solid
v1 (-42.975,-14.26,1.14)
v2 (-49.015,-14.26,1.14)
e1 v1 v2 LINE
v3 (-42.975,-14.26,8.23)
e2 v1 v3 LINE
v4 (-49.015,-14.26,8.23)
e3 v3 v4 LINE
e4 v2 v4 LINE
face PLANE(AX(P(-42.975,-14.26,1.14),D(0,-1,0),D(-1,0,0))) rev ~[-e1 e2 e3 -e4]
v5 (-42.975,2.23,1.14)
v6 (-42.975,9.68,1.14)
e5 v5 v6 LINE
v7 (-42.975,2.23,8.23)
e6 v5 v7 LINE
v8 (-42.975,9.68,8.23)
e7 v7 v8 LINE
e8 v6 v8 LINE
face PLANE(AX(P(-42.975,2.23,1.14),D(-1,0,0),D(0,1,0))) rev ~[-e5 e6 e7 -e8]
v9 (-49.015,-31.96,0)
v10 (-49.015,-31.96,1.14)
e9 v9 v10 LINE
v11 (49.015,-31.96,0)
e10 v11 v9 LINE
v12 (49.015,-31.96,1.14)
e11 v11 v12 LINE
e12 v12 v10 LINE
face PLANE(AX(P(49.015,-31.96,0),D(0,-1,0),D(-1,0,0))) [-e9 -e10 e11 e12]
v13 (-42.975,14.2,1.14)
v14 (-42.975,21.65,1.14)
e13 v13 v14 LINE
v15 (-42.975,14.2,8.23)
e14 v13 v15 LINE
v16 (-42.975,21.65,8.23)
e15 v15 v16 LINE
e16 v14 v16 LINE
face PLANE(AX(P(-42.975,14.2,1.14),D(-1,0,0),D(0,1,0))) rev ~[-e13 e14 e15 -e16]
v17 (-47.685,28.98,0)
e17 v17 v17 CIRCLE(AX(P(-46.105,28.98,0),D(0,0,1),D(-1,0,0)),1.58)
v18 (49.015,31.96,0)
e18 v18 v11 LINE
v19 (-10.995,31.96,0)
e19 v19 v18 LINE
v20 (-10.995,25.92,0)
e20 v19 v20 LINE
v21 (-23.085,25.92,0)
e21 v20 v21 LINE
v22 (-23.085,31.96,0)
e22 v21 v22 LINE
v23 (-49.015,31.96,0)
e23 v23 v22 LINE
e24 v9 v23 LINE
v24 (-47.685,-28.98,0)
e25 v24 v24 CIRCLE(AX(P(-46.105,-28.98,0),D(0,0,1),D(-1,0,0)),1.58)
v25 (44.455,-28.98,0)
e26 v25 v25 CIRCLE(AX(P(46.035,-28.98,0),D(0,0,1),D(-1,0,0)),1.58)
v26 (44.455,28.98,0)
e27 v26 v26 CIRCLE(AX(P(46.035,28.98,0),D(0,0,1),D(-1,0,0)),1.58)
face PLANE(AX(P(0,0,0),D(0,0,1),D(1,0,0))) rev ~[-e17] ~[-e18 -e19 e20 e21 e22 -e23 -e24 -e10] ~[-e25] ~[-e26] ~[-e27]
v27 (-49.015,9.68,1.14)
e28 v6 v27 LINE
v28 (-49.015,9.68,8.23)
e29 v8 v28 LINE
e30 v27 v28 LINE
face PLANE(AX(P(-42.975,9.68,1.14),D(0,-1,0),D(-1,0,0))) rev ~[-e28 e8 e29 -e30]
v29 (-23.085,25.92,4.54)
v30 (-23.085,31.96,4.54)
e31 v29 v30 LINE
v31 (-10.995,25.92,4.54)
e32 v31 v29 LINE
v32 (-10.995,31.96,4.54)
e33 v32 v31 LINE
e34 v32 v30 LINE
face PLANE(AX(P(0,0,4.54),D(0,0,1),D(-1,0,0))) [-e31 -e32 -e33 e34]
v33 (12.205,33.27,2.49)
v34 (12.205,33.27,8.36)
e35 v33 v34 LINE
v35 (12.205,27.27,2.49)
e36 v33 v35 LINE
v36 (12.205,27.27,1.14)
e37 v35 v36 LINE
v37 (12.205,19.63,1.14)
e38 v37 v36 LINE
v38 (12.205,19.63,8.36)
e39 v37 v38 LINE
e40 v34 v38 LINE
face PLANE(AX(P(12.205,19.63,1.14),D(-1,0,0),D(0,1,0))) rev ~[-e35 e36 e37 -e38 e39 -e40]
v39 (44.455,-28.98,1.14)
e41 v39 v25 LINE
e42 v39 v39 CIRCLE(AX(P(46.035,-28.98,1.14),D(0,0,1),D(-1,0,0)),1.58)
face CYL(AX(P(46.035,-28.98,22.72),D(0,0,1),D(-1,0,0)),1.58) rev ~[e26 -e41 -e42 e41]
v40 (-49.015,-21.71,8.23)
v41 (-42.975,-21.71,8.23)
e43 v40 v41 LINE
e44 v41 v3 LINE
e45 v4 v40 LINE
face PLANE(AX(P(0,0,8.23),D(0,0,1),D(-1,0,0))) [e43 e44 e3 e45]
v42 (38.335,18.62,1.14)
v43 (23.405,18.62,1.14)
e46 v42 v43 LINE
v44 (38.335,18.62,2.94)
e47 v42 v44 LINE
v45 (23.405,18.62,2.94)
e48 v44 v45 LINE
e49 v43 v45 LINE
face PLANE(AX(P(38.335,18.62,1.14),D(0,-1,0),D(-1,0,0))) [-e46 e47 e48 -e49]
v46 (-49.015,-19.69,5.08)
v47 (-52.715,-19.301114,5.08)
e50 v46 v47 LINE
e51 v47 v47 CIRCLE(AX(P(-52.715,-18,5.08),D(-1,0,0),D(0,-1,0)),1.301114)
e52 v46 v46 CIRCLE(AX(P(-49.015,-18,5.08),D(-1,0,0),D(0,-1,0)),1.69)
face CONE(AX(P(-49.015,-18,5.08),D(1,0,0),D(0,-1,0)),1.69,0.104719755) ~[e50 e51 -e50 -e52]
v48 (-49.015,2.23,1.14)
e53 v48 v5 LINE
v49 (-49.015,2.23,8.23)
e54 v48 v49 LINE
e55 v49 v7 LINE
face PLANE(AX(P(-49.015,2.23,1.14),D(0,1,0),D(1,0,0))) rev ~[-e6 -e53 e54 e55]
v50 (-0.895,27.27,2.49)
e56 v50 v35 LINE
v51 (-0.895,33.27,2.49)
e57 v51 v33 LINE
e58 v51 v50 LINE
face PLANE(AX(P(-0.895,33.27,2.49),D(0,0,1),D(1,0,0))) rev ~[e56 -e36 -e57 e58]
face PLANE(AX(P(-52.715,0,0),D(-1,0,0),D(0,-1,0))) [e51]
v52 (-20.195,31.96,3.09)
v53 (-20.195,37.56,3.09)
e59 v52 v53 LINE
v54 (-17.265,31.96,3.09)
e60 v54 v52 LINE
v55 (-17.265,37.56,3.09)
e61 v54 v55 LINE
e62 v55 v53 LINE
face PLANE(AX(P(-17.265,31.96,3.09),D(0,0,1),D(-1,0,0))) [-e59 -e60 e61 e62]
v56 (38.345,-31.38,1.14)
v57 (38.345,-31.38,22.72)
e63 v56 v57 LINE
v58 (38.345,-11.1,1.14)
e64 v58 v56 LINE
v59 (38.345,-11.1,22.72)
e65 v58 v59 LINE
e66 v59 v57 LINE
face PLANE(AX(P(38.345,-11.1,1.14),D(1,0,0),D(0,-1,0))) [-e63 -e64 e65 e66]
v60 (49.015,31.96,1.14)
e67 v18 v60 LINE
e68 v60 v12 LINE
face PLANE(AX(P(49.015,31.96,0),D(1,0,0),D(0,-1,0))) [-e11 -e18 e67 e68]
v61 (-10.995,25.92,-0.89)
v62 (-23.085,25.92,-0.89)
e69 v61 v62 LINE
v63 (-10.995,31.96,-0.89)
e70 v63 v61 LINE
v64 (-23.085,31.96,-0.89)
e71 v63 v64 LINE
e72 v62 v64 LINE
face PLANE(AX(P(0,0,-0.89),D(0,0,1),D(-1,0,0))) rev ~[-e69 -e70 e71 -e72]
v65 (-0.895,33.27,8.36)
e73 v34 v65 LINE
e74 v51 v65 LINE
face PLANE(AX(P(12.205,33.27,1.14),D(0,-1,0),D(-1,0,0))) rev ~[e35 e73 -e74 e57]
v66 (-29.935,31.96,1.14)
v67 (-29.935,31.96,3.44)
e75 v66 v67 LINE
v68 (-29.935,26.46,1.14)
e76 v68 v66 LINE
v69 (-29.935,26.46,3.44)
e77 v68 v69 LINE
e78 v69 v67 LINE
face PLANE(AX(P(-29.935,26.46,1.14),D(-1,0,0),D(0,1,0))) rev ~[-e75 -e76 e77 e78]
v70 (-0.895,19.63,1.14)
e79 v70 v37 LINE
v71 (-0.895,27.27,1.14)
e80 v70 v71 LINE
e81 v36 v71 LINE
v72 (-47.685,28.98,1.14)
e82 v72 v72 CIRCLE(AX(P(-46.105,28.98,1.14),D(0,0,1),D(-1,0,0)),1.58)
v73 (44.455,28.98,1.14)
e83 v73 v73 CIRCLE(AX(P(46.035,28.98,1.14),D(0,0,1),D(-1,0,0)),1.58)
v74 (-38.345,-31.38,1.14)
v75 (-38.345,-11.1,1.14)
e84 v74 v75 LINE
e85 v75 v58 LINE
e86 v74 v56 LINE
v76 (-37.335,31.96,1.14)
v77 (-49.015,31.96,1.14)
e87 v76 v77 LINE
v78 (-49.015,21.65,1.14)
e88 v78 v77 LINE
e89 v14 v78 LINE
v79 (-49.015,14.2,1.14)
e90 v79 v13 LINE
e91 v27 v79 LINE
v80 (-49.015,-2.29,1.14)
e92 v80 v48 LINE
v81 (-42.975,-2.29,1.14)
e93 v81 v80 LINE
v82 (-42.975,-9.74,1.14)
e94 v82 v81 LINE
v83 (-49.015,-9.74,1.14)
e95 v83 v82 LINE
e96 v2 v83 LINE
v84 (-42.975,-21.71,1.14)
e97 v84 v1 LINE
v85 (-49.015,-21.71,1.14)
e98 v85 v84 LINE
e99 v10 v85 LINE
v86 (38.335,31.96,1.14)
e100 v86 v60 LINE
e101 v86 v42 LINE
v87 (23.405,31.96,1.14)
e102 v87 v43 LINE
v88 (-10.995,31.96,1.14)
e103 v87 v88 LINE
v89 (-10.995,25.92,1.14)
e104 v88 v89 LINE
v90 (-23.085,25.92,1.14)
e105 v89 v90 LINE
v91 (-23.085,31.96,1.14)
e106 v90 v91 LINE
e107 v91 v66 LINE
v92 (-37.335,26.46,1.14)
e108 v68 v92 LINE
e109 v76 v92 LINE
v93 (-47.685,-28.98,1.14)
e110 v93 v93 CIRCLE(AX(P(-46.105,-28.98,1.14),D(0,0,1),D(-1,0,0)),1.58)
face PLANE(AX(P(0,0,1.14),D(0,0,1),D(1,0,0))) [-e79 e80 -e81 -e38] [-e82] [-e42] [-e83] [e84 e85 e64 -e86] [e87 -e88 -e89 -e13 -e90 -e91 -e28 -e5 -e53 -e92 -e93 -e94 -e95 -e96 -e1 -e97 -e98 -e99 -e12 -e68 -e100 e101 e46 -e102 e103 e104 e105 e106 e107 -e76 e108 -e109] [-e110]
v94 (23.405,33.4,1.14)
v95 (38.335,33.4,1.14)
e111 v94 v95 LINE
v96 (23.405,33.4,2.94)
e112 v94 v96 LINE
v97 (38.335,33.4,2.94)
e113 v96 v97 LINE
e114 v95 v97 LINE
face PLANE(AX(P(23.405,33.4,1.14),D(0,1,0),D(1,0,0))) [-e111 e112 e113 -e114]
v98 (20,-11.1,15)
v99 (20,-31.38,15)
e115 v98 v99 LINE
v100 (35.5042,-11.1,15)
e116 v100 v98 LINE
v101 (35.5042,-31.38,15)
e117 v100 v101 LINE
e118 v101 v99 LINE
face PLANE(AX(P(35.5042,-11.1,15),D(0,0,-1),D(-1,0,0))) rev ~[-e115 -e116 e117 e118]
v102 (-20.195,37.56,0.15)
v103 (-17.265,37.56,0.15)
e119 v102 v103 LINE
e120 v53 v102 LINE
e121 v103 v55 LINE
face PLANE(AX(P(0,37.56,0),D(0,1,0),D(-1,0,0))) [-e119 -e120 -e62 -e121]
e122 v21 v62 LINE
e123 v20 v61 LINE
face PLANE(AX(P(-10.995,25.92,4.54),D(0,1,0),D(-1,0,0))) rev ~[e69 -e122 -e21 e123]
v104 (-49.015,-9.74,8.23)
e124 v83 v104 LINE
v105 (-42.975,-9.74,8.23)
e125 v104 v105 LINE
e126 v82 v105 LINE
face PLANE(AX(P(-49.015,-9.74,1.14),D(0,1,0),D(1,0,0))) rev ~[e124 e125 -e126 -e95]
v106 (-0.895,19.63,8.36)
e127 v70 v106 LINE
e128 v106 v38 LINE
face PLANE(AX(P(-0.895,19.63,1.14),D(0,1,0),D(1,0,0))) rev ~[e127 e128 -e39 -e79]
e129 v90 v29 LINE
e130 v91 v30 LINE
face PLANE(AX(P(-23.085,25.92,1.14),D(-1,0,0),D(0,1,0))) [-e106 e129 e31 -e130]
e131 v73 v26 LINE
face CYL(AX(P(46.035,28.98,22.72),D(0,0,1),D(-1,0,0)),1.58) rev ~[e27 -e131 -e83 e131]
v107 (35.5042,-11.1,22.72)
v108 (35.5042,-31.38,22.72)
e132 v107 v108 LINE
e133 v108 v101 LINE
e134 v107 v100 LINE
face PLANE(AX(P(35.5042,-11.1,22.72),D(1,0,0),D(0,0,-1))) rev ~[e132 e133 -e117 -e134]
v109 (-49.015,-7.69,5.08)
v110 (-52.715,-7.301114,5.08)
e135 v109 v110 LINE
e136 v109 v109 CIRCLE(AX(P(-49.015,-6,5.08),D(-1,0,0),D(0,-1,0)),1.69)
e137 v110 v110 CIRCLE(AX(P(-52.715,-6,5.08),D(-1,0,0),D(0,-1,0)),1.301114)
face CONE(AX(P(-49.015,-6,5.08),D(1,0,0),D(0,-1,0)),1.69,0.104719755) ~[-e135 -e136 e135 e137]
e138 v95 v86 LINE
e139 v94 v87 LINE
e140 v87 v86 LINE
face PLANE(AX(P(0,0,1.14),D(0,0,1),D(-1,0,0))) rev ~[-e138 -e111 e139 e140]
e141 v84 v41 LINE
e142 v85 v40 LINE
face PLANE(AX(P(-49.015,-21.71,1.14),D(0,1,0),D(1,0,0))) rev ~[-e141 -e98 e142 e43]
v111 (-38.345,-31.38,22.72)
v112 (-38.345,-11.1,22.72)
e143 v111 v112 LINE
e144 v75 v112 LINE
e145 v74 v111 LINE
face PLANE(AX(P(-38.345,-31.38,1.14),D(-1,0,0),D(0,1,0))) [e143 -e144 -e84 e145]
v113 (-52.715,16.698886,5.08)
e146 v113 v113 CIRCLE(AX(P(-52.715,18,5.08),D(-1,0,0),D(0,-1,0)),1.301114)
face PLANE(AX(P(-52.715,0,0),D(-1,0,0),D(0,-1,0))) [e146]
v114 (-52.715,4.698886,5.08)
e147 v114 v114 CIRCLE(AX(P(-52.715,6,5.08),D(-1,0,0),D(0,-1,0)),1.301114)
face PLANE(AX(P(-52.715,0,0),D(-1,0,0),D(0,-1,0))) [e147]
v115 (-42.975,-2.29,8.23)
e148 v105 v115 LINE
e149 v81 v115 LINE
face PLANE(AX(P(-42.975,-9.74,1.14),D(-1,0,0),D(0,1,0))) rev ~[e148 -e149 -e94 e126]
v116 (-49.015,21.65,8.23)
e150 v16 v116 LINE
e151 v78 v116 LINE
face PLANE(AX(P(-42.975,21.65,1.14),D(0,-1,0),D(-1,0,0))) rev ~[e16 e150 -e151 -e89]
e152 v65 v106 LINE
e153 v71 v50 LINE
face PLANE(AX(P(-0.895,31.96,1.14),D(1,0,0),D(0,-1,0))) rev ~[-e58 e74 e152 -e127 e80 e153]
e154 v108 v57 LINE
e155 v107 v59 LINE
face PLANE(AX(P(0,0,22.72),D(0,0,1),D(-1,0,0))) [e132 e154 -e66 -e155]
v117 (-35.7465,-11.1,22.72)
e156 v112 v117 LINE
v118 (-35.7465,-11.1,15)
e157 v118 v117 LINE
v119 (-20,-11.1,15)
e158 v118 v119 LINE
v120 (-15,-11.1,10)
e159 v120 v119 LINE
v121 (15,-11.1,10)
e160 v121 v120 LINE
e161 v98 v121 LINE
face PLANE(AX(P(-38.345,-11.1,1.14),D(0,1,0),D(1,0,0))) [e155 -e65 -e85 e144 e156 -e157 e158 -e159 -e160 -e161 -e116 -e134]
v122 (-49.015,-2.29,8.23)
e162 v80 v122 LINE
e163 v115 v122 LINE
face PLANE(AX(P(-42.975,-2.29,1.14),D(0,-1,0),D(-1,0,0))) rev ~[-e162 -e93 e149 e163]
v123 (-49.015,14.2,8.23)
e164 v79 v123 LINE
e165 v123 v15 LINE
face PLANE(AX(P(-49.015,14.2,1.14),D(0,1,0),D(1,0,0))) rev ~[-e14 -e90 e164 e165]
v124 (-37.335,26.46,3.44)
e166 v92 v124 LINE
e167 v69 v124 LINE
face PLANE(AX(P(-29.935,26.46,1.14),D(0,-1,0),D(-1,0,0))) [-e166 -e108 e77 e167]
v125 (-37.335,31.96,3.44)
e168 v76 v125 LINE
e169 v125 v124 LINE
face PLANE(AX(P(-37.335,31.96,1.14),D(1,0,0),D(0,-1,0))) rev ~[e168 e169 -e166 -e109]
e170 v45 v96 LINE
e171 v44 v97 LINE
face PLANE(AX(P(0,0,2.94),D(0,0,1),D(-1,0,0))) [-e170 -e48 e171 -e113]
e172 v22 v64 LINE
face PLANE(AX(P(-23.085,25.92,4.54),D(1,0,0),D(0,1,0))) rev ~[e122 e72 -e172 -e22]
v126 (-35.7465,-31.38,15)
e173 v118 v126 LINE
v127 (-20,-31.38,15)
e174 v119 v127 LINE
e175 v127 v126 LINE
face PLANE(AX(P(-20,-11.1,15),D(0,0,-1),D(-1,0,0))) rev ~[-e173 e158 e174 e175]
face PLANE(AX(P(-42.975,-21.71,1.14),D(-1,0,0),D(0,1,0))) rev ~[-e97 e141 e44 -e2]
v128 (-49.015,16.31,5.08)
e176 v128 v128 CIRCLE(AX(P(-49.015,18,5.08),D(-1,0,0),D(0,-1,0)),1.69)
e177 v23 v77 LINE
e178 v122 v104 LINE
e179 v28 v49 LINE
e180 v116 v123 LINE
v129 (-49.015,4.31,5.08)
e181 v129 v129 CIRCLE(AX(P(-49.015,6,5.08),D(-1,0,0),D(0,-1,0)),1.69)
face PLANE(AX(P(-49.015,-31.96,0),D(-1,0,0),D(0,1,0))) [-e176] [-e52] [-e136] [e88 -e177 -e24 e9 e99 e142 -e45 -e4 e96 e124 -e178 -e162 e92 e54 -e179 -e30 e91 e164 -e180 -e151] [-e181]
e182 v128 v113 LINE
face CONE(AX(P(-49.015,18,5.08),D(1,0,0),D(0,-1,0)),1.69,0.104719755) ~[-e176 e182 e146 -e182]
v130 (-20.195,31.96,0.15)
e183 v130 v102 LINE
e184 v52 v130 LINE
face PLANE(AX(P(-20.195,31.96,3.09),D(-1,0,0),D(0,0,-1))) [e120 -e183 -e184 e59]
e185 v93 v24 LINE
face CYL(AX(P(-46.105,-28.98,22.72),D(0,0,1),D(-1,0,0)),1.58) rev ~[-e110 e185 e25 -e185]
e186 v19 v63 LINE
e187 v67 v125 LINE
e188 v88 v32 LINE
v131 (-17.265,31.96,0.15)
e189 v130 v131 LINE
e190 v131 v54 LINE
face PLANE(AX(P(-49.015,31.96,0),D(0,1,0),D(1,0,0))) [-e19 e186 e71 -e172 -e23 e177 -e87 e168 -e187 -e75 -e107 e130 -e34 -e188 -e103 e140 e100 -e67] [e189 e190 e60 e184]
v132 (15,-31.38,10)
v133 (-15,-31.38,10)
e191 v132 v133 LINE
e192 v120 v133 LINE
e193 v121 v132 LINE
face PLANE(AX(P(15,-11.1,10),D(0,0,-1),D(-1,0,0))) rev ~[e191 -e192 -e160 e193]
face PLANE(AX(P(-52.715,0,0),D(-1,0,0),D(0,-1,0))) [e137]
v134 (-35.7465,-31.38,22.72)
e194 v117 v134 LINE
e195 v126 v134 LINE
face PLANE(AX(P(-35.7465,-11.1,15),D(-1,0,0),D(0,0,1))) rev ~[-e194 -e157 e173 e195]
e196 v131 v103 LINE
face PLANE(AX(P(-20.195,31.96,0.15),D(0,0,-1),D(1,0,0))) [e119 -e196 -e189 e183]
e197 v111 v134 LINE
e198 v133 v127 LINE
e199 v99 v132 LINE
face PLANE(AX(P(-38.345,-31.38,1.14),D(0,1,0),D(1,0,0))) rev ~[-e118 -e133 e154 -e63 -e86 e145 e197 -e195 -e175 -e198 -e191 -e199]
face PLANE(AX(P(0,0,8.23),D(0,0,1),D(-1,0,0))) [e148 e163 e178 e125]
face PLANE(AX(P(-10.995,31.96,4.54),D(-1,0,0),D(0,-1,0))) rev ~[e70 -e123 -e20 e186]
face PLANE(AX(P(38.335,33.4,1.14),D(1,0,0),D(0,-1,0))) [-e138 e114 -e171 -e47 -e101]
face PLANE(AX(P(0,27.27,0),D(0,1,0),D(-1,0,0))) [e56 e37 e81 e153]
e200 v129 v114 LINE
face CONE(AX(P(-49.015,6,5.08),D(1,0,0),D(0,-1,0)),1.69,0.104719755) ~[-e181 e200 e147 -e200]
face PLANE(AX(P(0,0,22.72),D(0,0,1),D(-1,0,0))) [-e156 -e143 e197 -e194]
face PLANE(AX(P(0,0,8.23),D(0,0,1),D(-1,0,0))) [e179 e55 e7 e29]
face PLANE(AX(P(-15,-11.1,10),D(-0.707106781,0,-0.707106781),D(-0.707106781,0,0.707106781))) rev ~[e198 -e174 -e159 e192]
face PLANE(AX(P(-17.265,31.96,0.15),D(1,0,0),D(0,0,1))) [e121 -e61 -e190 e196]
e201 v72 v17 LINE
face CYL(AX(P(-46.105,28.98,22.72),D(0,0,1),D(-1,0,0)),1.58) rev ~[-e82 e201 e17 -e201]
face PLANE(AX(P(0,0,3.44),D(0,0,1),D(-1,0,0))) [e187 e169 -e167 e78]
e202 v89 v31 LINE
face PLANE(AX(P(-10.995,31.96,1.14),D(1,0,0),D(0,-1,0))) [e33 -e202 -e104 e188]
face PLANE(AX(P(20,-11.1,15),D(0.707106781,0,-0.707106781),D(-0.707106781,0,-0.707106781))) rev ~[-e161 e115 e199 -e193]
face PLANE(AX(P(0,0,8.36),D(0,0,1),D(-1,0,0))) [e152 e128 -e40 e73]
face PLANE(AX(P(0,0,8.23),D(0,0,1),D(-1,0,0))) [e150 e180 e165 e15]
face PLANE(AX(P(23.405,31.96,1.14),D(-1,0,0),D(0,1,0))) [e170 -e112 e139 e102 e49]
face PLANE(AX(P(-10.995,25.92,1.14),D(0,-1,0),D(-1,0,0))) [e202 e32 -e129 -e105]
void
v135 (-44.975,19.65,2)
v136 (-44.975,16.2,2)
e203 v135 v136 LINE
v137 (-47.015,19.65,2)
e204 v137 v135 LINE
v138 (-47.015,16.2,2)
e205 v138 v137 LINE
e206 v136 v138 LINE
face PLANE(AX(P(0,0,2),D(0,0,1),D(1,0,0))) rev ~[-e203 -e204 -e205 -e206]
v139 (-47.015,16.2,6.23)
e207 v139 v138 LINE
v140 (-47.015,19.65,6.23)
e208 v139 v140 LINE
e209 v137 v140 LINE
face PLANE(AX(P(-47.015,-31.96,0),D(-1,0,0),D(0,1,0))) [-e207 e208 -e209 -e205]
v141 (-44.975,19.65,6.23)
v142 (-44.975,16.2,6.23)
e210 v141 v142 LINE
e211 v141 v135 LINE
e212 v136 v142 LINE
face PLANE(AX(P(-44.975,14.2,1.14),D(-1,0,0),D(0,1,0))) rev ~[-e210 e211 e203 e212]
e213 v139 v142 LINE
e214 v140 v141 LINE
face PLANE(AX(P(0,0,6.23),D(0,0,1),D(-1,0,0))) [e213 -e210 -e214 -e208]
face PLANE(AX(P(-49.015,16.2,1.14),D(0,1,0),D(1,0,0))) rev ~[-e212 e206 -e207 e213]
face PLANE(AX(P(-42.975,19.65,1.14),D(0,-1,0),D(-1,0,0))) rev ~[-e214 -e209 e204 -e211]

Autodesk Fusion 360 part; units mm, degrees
sketch "Sketch1" plane through (0, 0, 0) normal (0, 0, 1) x (1, 0, 0)
sketch "Sketch2" plane through (0, 0, 0) normal (0, 0, 1) x (1, 0, 0)
  line L0 (49.015, -31.96) -> (-49.015, -31.96)
  line L1 (-49.015, -31.96) -> (-49.015, 31.96)
  line L2 (-49.015, 31.96) -> (49.015, 31.96)
  line L3 (49.015, 31.96) -> (49.015, -31.96)
  line L4 (49.015, -31.96) -> (-49.015, 31.96) construction
  line L5 (-49.015, -31.96) -> (49.015, 31.96) construction
  dimension "d1" = 98.03
  dimension "d2" = 63.92
extrude "Extrude1" add sketch "Sketch2" along normal blind 1.14
sketch "Sketch3" plane through (0, 0, 1.14) normal (0, 0, 1) x (-1, 0, 0)
  line L0 (-49.015, -31.96) -> (49.015, -31.96)
  line L1 (49.015, -31.96) -> (49.015, 31.96)
  line L2 (49.015, 31.96) -> (-49.015, 31.96)
  line L3 (-49.015, 31.96) -> (-49.015, -31.96)
  line L4 (-49.015, 31.96) -> (-38.345, 31.96) construction
  line L5 (49.015, 31.96) -> (38.345, 31.96) construction
  line L6 (38.345, 31.38) -> (38.345, 11.1)
  line L7 (38.345, 11.1) -> (-38.345, 11.1)
  line L8 (-38.345, 11.1) -> (-38.345, 31.38)
  line L9 (38.345, 31.96) -> (-38.345, 31.96)
  circle A0 centre (46.105, -28.98) radius 1.58
  circle A1 centre (46.105, 28.98) radius 1.58
  circle A2 centre (-46.035, -28.98) radius 1.58
  circle A3 centre (-46.035, 28.98) radius 1.58
  line L10 (38.345, 31.38) -> (-38.345, 31.38)
  dimension "d5" = 10.67
  dimension "d6" = 10.67
  dimension "d7" = 2.91
  dimension "d8" = 2.98
  dimension "d9" = 3.16
  dimension "d12" = 3.16
  dimension "d13" = 3.16
  dimension "d14" = 3.16
  dimension "d15" = 2.98
  dimension "d16" = 2.98
  dimension "d17" = 2.98
  dimension "d18" = 2.98
  dimension "d19" = 2.91
  dimension "d20" = 2.98
  dimension "d38" = 20.86
  dimension "d39" = 0.58
extrude "Extrude2" add sketch "Sketch3" along normal blind 21.58 contours L6 L7 L8 L10 | A0 | A1 | A2 | A3
sketch "Sketch5" plane through (0, 0, 1.14) normal (0, 0, 1) x (-1, 0, 0)
  circle A0 centre (46.105, 28.98) radius 1.58
  circle A1 centre (-46.035, -28.98) radius 1.58
  circle A2 centre (46.105, -28.98) radius 1.58
  circle A3 centre (-46.035, 28.98) radius 1.58
  line L0 (-49.015, -31.96) -> (49.015, -31.96)
  line L1 (49.015, -31.96) -> (49.015, 31.96)
  line L2 (49.015, 31.96) -> (-49.015, 31.96)
  line L3 (-49.015, 31.96) -> (-49.015, -31.96)
  line L4 (49.015, 31.96) -> (49.015, 21.71) construction
  line L5 (49.015, 21.71) -> (42.975, 21.71)
  line L6 (42.975, 21.71) -> (42.975, 14.26)
  line L7 (42.975, 14.26) -> (49.015, 14.26)
  line L8 (43.7525, 14.26) -> (43.7525, 9.51) construction
  line L9 (49.015, 9.74) -> (42.975, 9.74)
  line L10 (42.975, 9.74) -> (42.975, 2.29)
  line L11 (42.975, 2.29) -> (49.015, 2.29)
  line L12 (49.015, 2.29) -> (49.015, 9.74)
  line L13 (49.015, 9.74) -> (42.975, 9.74)
  line L14 (43.8683, 2.29) -> (43.8683, -2.46) construction
  line L15 (49.015, -2.23) -> (42.975, -2.23)
  line L16 (42.975, -2.23) -> (42.975, -9.68)
  line L17 (42.975, -9.68) -> (49.015, -9.68)
  line L18 (43.9024, -9.68) -> (43.9024, -14.43) construction
  line L19 (49.015, -14.2) -> (42.975, -14.2)
  line L20 (42.975, -14.2) -> (42.975, -21.65)
  line L21 (42.975, -21.65) -> (49.015, -21.65)
  line L22 (38.345, 11.1) -> (-38.345, 11.1)
  line L23 (-38.345, 11.1) -> (-38.345, 31.38)
  line L24 (-38.345, 31.38) -> (38.345, 31.38)
  line L25 (38.345, 31.38) -> (38.345, 11.1)
  dimension "d21" = 10.25
  dimension "d22" = 6.04
  dimension "d23" = 7.45
  dimension "d24" = 4.75
  dimension "d25" = 7.45
  dimension "d26" = 4.75
  dimension "d27" = 6.04
  dimension "d28" = 7.45
  dimension "d29" = 4.75
  dimension "d30" = 6.04
  dimension "d31" = 7.45
  dimension "d32" = 6.04
  dimension "d33" = 4.52
  dimension "d34" = 4.52
  dimension "d35" = 4.52
extrude "Extrude3" add sketch "Sketch5" along normal blind 7.09 contours L1 L19 L20 L21 | L1 L5 L6 L7 | L1 L15 L16 L17 | L1 L9 L10 L11 L12 L13
extrude "Extrude4" cut 4 faces at (-45.3311, -29.4935, 22.72) (45.7717, -28.3669, 22.72) (45.7717, 29.5931, 22.72) (-45.3311, 28.4665, 22.72) along direction (0, 0, -1) blind 35
sketch "Sketch6" plane through (0, 0, 8.23) normal (0, 0, 1) x (-1, 0, 0)
  line L0 (42.975, 14.26) -> (49.015, 14.26)
  line L1 (49.015, 14.26) -> (49.015, 21.71)
  line L2 (49.015, 21.71) -> (42.975, 21.71)
  line L3 (42.975, 21.71) -> (42.975, 14.26)
  line L4 (49.015, 21.71) -> (46.905, 21.71) construction
  dimension "d42" = 2.11
shell "Shell1" thickness 2 removed faces 1 at (-12.7817, -17.86, 22.72)
sketch "Sketch7" plane through (0, -11.1, 0) normal (0, 1, 0) x (-1, 0, 0)
  line L0 (-38.345, 1.14) -> (38.345, 1.14)
  line L1 (38.345, 1.14) -> (38.345, 22.72)
  line L2 (38.345, 22.72) -> (-38.345, 22.72)
  line L3 (-38.345, 22.72) -> (-38.345, 1.14)
  line L4 (-35.5042, 22.72) -> (-35.5042, 15)
  line L5 (-35.5042, 15) -> (-20, 15)
  line L6 (-20, 15) -> (-15, 10)
  line L7 (-15, 10) -> (15, 10)
  line L8 (15, 10) -> (20, 15)
  line L9 (20, 15) -> (25, 15)
  line L10 (25, 15) -> (35.7465, 15)
  line L11 (35.7465, 15) -> (35.7465, 22.72)
extrude "Extrude5" cut sketch "Sketch7" against normal blind 30 contours L2 L4 L5 L6 L7 L8 L9 L10 L11
sketch "Sketch8" plane through (0, -11.1, 0) normal (0, 1, 0) x (-1, 0, 0)
sketch "Sketch9" plane through (0, 0, 1.14) normal (0, 0, 1) x (-1, 0, 0)
  line L0 (42.975, -14.2) -> (49.015, -14.2)
  line L1 (49.015, -14.2) -> (49.015, -9.68)
  line L2 (49.015, -9.68) -> (42.975, -9.68)
  line L3 (42.975, -9.68) -> (42.975, -2.23)
  line L4 (42.975, -2.23) -> (49.015, -2.23)
  line L5 (49.015, -2.23) -> (49.015, 2.29)
  line L6 (49.015, 2.29) -> (42.975, 2.29)
  line L7 (42.975, 2.29) -> (42.975, 9.74)
  line L8 (42.975, 9.74) -> (49.015, 9.74)
  line L9 (49.015, 9.74) -> (49.015, 14.26)
  line L10 (49.015, 14.26) -> (42.975, 14.26)
  line L11 (42.975, 14.26) -> (42.975, 21.71)
  line L12 (42.975, 21.71) -> (49.015, 21.71)
  line L13 (49.015, 21.71) -> (49.015, 31.96)
  line L14 (49.015, 31.96) -> (-49.015, 31.96)
  line L15 (-49.015, 31.96) -> (-49.015, -31.96)
  line L16 (-49.015, -31.96) -> (49.015, -31.96)
  line L17 (49.015, -31.96) -> (49.015, -21.65)
  line L18 (49.015, -21.65) -> (42.975, -21.65)
  line L19 (42.975, -21.65) -> (42.975, -14.2)
  circle A0 centre (-46.035, -28.98) radius 1.58
  circle A1 centre (46.105, 28.98) radius 1.58
  circle A2 centre (-46.035, 28.98) radius 1.58
  circle A3 centre (46.105, -28.98) radius 1.58
  line L20 (38.345, 11.1) -> (-38.345, 11.1)
  line L21 (-38.345, 11.1) -> (-38.345, 31.38)
  line L22 (-38.345, 31.38) -> (38.345, 31.38)
  line L23 (38.345, 31.38) -> (38.345, 11.1)
  line L24 (-49.015, -31.96) -> (-38.335, -31.96) construction
  line L25 (-38.335, -31.96) -> (-38.335, -18.62)
  line L26 (-38.335, -18.62) -> (-23.405, -18.62)
  line L27 (-23.405, -18.62) -> (-23.405, -33.4)
  line L28 (-23.405, -33.4) -> (-38.335, -33.4)
  line L29 (-38.335, -33.4) -> (-38.335, -31.96)
  dimension "d46" = 10.68
  dimension "d47" = 13.34
  dimension "d48" = 14.93
  dimension "d49" = 14.78
extrude "Extrude6" add sketch "Sketch9" along normal blind 1.8 contours L16 L27 L28 L29 | L16 L25 L26 L27
sketch "Sketch10" plane through (0, 0, 1.14) normal (0, 0, 1) x (-1, 0, 0)
  line L0 (-23.405, -18.62) -> (-23.405, -31.96)
  line L1 (-23.405, -31.96) -> (49.015, -31.96)
  line L2 (49.015, -31.96) -> (49.015, -21.65)
  line L3 (49.015, -21.65) -> (42.975, -21.65)
  line L4 (42.975, -21.65) -> (42.975, -14.2)
  line L5 (42.975, -14.2) -> (49.015, -14.2)
  line L6 (49.015, -14.2) -> (49.015, -9.68)
  line L7 (49.015, -9.68) -> (42.975, -9.68)
  line L8 (42.975, -9.68) -> (42.975, -2.23)
  line L9 (42.975, -2.23) -> (49.015, -2.23)
  line L10 (49.015, -2.23) -> (49.015, 2.29)
  line L11 (49.015, 2.29) -> (42.975, 2.29)
  line L12 (42.975, 2.29) -> (42.975, 9.74)
  line L13 (42.975, 9.74) -> (49.015, 9.74)
  line L14 (49.015, 9.74) -> (49.015, 14.26)
  line L15 (49.015, 14.26) -> (42.975, 14.26)
  line L16 (42.975, 14.26) -> (42.975, 21.71)
  line L17 (42.975, 21.71) -> (49.015, 21.71)
  line L18 (49.015, 21.71) -> (49.015, 31.96)
  line L19 (49.015, 31.96) -> (-49.015, 31.96)
  line L20 (-49.015, 31.96) -> (-49.015, -31.96)
  line L21 (-49.015, -31.96) -> (-38.335, -31.96)
  line L22 (-38.335, -31.96) -> (-38.335, -18.62)
  line L23 (-38.335, -18.62) -> (-23.405, -18.62)
  circle A0 centre (-46.035, -28.98) radius 1.58
  circle A1 centre (46.105, 28.98) radius 1.58
  circle A2 centre (-46.035, 28.98) radius 1.58
  circle A3 centre (46.105, -28.98) radius 1.58
  line L24 (38.345, 11.1) -> (-38.345, 11.1)
  line L25 (-38.345, 11.1) -> (-38.345, 31.38)
  line L26 (-38.345, 31.38) -> (38.345, 31.38)
  line L27 (38.345, 31.38) -> (38.345, 11.1)
  line L28 (-23.405, -27.6756) -> (-12.205, -27.6756) construction
  line L29 (-12.205, -31.96) -> (-12.205, -33.27)
  line L30 (-12.205, -33.27) -> (0.895, -33.27)
  line L31 (0.895, -33.27) -> (0.895, -19.63)
  line L32 (0.895, -19.63) -> (-12.205, -19.63)
  line L33 (-12.205, -19.63) -> (-12.205, -33.27)
  dimension "d52" = 11.2
  dimension "d53" = 1.31
  dimension "d54" = 13.1
  dimension "d55" = 13.64
extrude "Extrude7" add sketch "Sketch10" along normal blind 7.22 contours L1 L31 L32 L33 | L1 L29 L30 L31 L33
sketch "Sketch11" plane through (0, 33.27, 0) normal (0, 1, 0) x (-1, 0, 0)
  line L0 (-12.205, 1.14) -> (0.895, 1.14)
  line L1 (0.895, 1.14) -> (0.895, 8.36)
  line L2 (0.895, 8.36) -> (-12.205, 8.36)
  line L3 (-12.205, 8.36) -> (-12.205, 1.14)
  line L4 (0.895, 1.14) -> (0.895, 2.49) construction
  line L5 (0.895, 2.49) -> (-12.205, 2.49)
  dimension "d58" = 1.35
extrude "Extrude8" cut sketch "Sketch11" against normal blind 6 contours L0 L1 L3 L5
sketch "Sketch12" plane through (0, 0, 1.14) normal (0, 0, 1) x (-1, 0, 0)
  line L0 (-12.205, -27.27) -> (-12.205, -19.63)
  line L1 (-12.205, -19.63) -> (0.895, -19.63)
  line L2 (0.895, -19.63) -> (0.895, -27.27)
  line L3 (0.895, -27.27) -> (-12.205, -27.27)
  line L4 (-23.405, -31.96) -> (49.015, -31.96)
  line L5 (49.015, -31.96) -> (49.015, -21.65)
  line L6 (49.015, -21.65) -> (42.975, -21.65)
  line L7 (42.975, -21.65) -> (42.975, -14.2)
  line L8 (42.975, -14.2) -> (49.015, -14.2)
  line L9 (49.015, -14.2) -> (49.015, -9.68)
  line L10 (49.015, -9.68) -> (42.975, -9.68)
  line L11 (42.975, -9.68) -> (42.975, -2.23)
  line L12 (42.975, -2.23) -> (49.015, -2.23)
  line L13 (49.015, -2.23) -> (49.015, 2.29)
  line L14 (49.015, 2.29) -> (42.975, 2.29)
  line L15 (42.975, 2.29) -> (42.975, 9.74)
  line L16 (42.975, 9.74) -> (49.015, 9.74)
  line L17 (49.015, 9.74) -> (49.015, 14.26)
  line L18 (49.015, 14.26) -> (42.975, 14.26)
  line L19 (42.975, 14.26) -> (42.975, 21.71)
  line L20 (42.975, 21.71) -> (49.015, 21.71)
  line L21 (49.015, 21.71) -> (49.015, 31.96)
  line L22 (49.015, 31.96) -> (-49.015, 31.96)
  line L23 (-49.015, 31.96) -> (-49.015, -31.96)
  line L24 (-49.015, -31.96) -> (-38.335, -31.96)
  line L25 (-38.335, -31.96) -> (-38.335, -18.62)
  line L26 (-38.335, -18.62) -> (-23.405, -18.62)
  line L27 (-23.405, -18.62) -> (-23.405, -31.96)
  circle A0 centre (-46.035, -28.98) radius 1.58
  circle A1 centre (46.105, 28.98) radius 1.58
  circle A2 centre (-46.035, 28.98) radius 1.58
  circle A3 centre (46.105, -28.98) radius 1.58
  line L28 (38.345, 11.1) -> (-38.345, 11.1)
  line L29 (-38.345, 11.1) -> (-38.345, 31.38)
  line L30 (-38.345, 31.38) -> (38.345, 31.38)
  line L31 (38.345, 31.38) -> (38.345, 11.1)
  line L32 (0.895, -27.27) -> (10.995, -27.27) construction
  line L33 (10.995, -31.96) -> (10.995, -25.92)
  line L34 (10.995, -25.92) -> (23.085, -25.92)
  line L35 (23.085, -25.92) -> (23.085, -31.96)
  line L36 (23.085, -31.96) -> (10.995, -31.96)
  dimension "d61" = 10.1
  dimension "d62" = 6.04
  dimension "d63" = 12.09
extrude "Extrude9" add sketch "Sketch12" along normal blind 3.4 contours L4 L33 L34 L35 L36
extrude "Extrude10" add 1 faces at (-15.025, 27.9333, 4.54) along direction (0, 0, -1) blind 5.43
sketch "Sketch13" plane through (0, 31.96, 0) normal (0, 1, 0) x (-1, 0, 0)
  line L0 (10.995, 1.14) -> (-23.405, 1.14)
  line L1 (-23.405, 1.14) -> (-38.335, 1.14)
  line L2 (-38.335, 1.14) -> (-49.015, 1.14)
  line L3 (-49.015, 1.14) -> (-49.015, 0)
  line L4 (-49.015, 0) -> (10.995, 0)
  line L5 (10.995, 0) -> (10.995, -0.89)
  line L6 (10.995, -0.89) -> (23.085, -0.89)
  line L7 (23.085, -0.89) -> (23.085, 0)
  line L8 (23.085, 0) -> (49.015, 0)
  line L9 (49.015, 0) -> (49.015, 1.14)
  line L10 (49.015, 1.14) -> (23.085, 1.14)
  line L11 (23.085, 1.14) -> (23.085, 4.54)
  line L12 (23.085, 4.54) -> (10.995, 4.54)
  line L13 (10.995, 4.54) -> (10.995, 1.14)
  line L14 (17.265, 3.09) -> (20.195, 3.09)
  line L15 (20.195, 3.09) -> (20.195, 0.15)
  line L16 (20.195, 0.15) -> (17.265, 0.15)
  line L17 (17.265, 0.15) -> (17.265, 3.09)
  dimension "d68" = 2.93
  dimension "d69" = 2.94
  dimension "d70" = 1.45
  dimension "d71" = 2.89
extrude "Extrude11" add sketch "Sketch13" along normal blind 5.6 contours L14 L15 L16 L17
sketch "Sketch14" plane through (0, 0, 1.14) normal (0, 0, 1) x (-1, 0, 0)
  line L0 (38.345, 11.1) -> (-38.345, 11.1)
  line L1 (-38.345, 11.1) -> (-38.345, 31.38)
  line L2 (-38.345, 31.38) -> (38.345, 31.38)
  line L3 (38.345, 31.38) -> (38.345, 11.1)
  circle A0 centre (46.105, -28.98) radius 1.58
  circle A1 centre (-46.035, 28.98) radius 1.58
  circle A2 centre (46.105, 28.98) radius 1.58
  circle A3 centre (-46.035, -28.98) radius 1.58
  line L4 (10.995, -31.96) -> (10.995, -25.92)
  line L5 (10.995, -25.92) -> (23.085, -25.92)
  line L6 (23.085, -25.92) -> (23.085, -31.96)
  line L7 (23.085, -31.96) -> (49.015, -31.96)
  line L8 (49.015, -31.96) -> (49.015, -21.65)
  line L9 (49.015, -21.65) -> (42.975, -21.65)
  line L10 (42.975, -21.65) -> (42.975, -14.2)
  line L11 (42.975, -14.2) -> (49.015, -14.2)
  line L12 (49.015, -14.2) -> (49.015, -9.68)
  line L13 (49.015, -9.68) -> (42.975, -9.68)
  line L14 (42.975, -9.68) -> (42.975, -2.23)
  line L15 (42.975, -2.23) -> (49.015, -2.23)
  line L16 (49.015, -2.23) -> (49.015, 2.29)
  line L17 (49.015, 2.29) -> (42.975, 2.29)
  line L18 (42.975, 2.29) -> (42.975, 9.74)
  line L19 (42.975, 9.74) -> (49.015, 9.74)
  line L20 (49.015, 9.74) -> (49.015, 14.26)
  line L21 (49.015, 14.26) -> (42.975, 14.26)
  line L22 (42.975, 14.26) -> (42.975, 21.71)
  line L23 (42.975, 21.71) -> (49.015, 21.71)
  line L24 (49.015, 21.71) -> (49.015, 31.96)
  line L25 (49.015, 31.96) -> (-49.015, 31.96)
  line L26 (-49.015, 31.96) -> (-49.015, -31.96)
  line L27 (-49.015, -31.96) -> (-38.335, -31.96)
  line L28 (-38.335, -31.96) -> (-38.335, -18.62)
  line L29 (-38.335, -18.62) -> (-23.405, -18.62)
  line L30 (-23.405, -18.62) -> (-23.405, -31.96)
  line L31 (-23.405, -31.96) -> (10.995, -31.96)
  line L32 (-12.205, -27.27) -> (-12.205, -19.63)
  line L33 (-12.205, -19.63) -> (0.895, -19.63)
  line L34 (0.895, -19.63) -> (0.895, -27.27)
  line L35 (0.895, -27.27) -> (-12.205, -27.27)
  line L36 (23.085, -28.94) -> (29.935, -28.94) construction
  line L37 (29.935, -31.96) -> (37.335, -31.96)
  line L38 (37.335, -31.96) -> (37.335, -26.46)
  line L39 (29.935, -26.46) -> (37.335, -26.46)
  line L40 (29.935, -26.46) -> (29.935, -31.96)
  dimension "d74" = 6.85
  dimension "d75" = 7.4
  dimension "d76" = 5.5
extrude "Extrude12" add sketch "Sketch14" along normal blind 2.3 contours L7 L37 L38 L39 L40
sketch "Sketch15" plane through (0, 0, 1.14) normal (0, 0, 1) x (-1, 0, 0)
  line L0 (37.335, -26.46) -> (37.335, -31.96)
  line L1 (37.335, -31.96) -> (49.015, -31.96)
  line L2 (49.015, -31.96) -> (49.015, -21.65)
  line L3 (49.015, -21.65) -> (42.975, -21.65)
  line L4 (42.975, -21.65) -> (42.975, -14.2)
  line L5 (42.975, -14.2) -> (49.015, -14.2)
  line L6 (49.015, -14.2) -> (49.015, -9.68)
  line L7 (49.015, -9.68) -> (42.975, -9.68)
  line L8 (42.975, -9.68) -> (42.975, -2.23)
  line L9 (42.975, -2.23) -> (49.015, -2.23)
  line L10 (49.015, -2.23) -> (49.015, 2.29)
  line L11 (49.015, 2.29) -> (42.975, 2.29)
  line L12 (42.975, 2.29) -> (42.975, 9.74)
  line L13 (42.975, 9.74) -> (49.015, 9.74)
  line L14 (49.015, 9.74) -> (49.015, 14.26)
  line L15 (49.015, 14.26) -> (42.975, 14.26)
  line L16 (42.975, 14.26) -> (42.975, 21.71)
  line L17 (42.975, 21.71) -> (49.015, 21.71)
  line L18 (49.015, 21.71) -> (49.015, 31.96)
  line L19 (49.015, 31.96) -> (-49.015, 31.96)
  line L20 (-49.015, 31.96) -> (-49.015, -31.96)
  line L21 (-49.015, -31.96) -> (-38.335, -31.96)
  line L22 (-38.335, -31.96) -> (-38.335, -18.62)
  line L23 (-38.335, -18.62) -> (-23.405, -18.62)
  line L24 (-23.405, -18.62) -> (-23.405, -31.96)
  line L25 (-23.405, -31.96) -> (10.995, -31.96)
  line L26 (10.995, -31.96) -> (10.995, -25.92)
  line L27 (10.995, -25.92) -> (23.085, -25.92)
  line L28 (23.085, -25.92) -> (23.085, -31.96)
  line L29 (23.085, -31.96) -> (29.935, -31.96)
  line L30 (29.935, -31.96) -> (29.935, -26.46)
  line L31 (29.935, -26.46) -> (37.335, -26.46)
  line L32 (38.345, 11.1) -> (-38.345, 11.1)
  line L33 (-38.345, 11.1) -> (-38.345, 31.38)
  line L34 (-38.345, 31.38) -> (38.345, 31.38)
  line L35 (38.345, 31.38) -> (38.345, 11.1)
  circle A0 centre (46.105, -28.98) radius 1.58
  circle A1 centre (-46.035, 28.98) radius 1.58
  circle A2 centre (46.105, 28.98) radius 1.58
  circle A3 centre (-46.035, -28.98) radius 1.58
  line L36 (-12.205, -27.27) -> (-12.205, -19.63)
  line L37 (-12.205, -19.63) -> (0.895, -19.63)
  line L38 (0.895, -19.63) -> (0.895, -27.27)
  line L39 (0.895, -27.27) -> (-12.205, -27.27)
sketch "Sketch16" plane through (0, 0, 1.14) normal (0, 0, 1) x (1, 0, 0)
sketch "Sketch17" plane through (-49.015, 0, 0) normal (-1, 0, 0) x (0, -1, 0)
  line L0 (-31.96, 0) -> (31.96, 0)
  line L1 (31.96, 0) -> (31.96, 1.14)
  line L2 (31.96, 1.14) -> (21.71, 1.14)
  line L3 (21.71, 1.14) -> (21.71, 8.23)
  line L4 (21.71, 8.23) -> (14.26, 8.23)
  line L5 (14.26, 8.23) -> (14.26, 1.14)
  line L6 (14.26, 1.14) -> (9.74, 1.14)
  line L7 (9.74, 1.14) -> (9.74, 8.23)
  line L8 (9.74, 8.23) -> (2.29, 8.23)
  line L9 (2.29, 8.23) -> (2.29, 1.14)
  line L10 (2.29, 1.14) -> (-2.23, 1.14)
  line L11 (-2.23, 1.14) -> (-2.23, 8.23)
  line L12 (-2.23, 8.23) -> (-9.68, 8.23)
  line L13 (-9.68, 8.23) -> (-9.68, 1.14)
  line L14 (-9.68, 1.14) -> (-14.2, 1.14)
  line L15 (-14.2, 1.14) -> (-14.2, 8.23)
  line L16 (-14.2, 8.23) -> (-21.65, 8.23)
  line L17 (-21.65, 8.23) -> (-21.65, 1.14)
  line L18 (-21.65, 1.14) -> (-31.96, 1.14)
  line L19 (-31.96, 1.14) -> (-31.96, 0)
  circle A0 centre (-6, 5.08) radius 1.69
  circle A1 centre (-18, 5.08) radius 1.69
  circle A2 centre (6, 5.08) radius 1.69
  circle A3 centre (18, 5.08) radius 1.69
  line L20 (14.26, 8.23) -> (21.71, 8.23)
  dimension "d79" = 3.38
  dimension "d80" = 3.38
  dimension "d81" = 3.38
  dimension "d82" = 3.38
  dimension "d83" = 3.15
  dimension "d84" = 3.15
  dimension "d85" = 3.15
  dimension "d86" = 3.15
extrude "Extrude13" add sketch "Sketch17" along normal blind 3.7 draft -6 contours A0 | A1 | A2 | A3
